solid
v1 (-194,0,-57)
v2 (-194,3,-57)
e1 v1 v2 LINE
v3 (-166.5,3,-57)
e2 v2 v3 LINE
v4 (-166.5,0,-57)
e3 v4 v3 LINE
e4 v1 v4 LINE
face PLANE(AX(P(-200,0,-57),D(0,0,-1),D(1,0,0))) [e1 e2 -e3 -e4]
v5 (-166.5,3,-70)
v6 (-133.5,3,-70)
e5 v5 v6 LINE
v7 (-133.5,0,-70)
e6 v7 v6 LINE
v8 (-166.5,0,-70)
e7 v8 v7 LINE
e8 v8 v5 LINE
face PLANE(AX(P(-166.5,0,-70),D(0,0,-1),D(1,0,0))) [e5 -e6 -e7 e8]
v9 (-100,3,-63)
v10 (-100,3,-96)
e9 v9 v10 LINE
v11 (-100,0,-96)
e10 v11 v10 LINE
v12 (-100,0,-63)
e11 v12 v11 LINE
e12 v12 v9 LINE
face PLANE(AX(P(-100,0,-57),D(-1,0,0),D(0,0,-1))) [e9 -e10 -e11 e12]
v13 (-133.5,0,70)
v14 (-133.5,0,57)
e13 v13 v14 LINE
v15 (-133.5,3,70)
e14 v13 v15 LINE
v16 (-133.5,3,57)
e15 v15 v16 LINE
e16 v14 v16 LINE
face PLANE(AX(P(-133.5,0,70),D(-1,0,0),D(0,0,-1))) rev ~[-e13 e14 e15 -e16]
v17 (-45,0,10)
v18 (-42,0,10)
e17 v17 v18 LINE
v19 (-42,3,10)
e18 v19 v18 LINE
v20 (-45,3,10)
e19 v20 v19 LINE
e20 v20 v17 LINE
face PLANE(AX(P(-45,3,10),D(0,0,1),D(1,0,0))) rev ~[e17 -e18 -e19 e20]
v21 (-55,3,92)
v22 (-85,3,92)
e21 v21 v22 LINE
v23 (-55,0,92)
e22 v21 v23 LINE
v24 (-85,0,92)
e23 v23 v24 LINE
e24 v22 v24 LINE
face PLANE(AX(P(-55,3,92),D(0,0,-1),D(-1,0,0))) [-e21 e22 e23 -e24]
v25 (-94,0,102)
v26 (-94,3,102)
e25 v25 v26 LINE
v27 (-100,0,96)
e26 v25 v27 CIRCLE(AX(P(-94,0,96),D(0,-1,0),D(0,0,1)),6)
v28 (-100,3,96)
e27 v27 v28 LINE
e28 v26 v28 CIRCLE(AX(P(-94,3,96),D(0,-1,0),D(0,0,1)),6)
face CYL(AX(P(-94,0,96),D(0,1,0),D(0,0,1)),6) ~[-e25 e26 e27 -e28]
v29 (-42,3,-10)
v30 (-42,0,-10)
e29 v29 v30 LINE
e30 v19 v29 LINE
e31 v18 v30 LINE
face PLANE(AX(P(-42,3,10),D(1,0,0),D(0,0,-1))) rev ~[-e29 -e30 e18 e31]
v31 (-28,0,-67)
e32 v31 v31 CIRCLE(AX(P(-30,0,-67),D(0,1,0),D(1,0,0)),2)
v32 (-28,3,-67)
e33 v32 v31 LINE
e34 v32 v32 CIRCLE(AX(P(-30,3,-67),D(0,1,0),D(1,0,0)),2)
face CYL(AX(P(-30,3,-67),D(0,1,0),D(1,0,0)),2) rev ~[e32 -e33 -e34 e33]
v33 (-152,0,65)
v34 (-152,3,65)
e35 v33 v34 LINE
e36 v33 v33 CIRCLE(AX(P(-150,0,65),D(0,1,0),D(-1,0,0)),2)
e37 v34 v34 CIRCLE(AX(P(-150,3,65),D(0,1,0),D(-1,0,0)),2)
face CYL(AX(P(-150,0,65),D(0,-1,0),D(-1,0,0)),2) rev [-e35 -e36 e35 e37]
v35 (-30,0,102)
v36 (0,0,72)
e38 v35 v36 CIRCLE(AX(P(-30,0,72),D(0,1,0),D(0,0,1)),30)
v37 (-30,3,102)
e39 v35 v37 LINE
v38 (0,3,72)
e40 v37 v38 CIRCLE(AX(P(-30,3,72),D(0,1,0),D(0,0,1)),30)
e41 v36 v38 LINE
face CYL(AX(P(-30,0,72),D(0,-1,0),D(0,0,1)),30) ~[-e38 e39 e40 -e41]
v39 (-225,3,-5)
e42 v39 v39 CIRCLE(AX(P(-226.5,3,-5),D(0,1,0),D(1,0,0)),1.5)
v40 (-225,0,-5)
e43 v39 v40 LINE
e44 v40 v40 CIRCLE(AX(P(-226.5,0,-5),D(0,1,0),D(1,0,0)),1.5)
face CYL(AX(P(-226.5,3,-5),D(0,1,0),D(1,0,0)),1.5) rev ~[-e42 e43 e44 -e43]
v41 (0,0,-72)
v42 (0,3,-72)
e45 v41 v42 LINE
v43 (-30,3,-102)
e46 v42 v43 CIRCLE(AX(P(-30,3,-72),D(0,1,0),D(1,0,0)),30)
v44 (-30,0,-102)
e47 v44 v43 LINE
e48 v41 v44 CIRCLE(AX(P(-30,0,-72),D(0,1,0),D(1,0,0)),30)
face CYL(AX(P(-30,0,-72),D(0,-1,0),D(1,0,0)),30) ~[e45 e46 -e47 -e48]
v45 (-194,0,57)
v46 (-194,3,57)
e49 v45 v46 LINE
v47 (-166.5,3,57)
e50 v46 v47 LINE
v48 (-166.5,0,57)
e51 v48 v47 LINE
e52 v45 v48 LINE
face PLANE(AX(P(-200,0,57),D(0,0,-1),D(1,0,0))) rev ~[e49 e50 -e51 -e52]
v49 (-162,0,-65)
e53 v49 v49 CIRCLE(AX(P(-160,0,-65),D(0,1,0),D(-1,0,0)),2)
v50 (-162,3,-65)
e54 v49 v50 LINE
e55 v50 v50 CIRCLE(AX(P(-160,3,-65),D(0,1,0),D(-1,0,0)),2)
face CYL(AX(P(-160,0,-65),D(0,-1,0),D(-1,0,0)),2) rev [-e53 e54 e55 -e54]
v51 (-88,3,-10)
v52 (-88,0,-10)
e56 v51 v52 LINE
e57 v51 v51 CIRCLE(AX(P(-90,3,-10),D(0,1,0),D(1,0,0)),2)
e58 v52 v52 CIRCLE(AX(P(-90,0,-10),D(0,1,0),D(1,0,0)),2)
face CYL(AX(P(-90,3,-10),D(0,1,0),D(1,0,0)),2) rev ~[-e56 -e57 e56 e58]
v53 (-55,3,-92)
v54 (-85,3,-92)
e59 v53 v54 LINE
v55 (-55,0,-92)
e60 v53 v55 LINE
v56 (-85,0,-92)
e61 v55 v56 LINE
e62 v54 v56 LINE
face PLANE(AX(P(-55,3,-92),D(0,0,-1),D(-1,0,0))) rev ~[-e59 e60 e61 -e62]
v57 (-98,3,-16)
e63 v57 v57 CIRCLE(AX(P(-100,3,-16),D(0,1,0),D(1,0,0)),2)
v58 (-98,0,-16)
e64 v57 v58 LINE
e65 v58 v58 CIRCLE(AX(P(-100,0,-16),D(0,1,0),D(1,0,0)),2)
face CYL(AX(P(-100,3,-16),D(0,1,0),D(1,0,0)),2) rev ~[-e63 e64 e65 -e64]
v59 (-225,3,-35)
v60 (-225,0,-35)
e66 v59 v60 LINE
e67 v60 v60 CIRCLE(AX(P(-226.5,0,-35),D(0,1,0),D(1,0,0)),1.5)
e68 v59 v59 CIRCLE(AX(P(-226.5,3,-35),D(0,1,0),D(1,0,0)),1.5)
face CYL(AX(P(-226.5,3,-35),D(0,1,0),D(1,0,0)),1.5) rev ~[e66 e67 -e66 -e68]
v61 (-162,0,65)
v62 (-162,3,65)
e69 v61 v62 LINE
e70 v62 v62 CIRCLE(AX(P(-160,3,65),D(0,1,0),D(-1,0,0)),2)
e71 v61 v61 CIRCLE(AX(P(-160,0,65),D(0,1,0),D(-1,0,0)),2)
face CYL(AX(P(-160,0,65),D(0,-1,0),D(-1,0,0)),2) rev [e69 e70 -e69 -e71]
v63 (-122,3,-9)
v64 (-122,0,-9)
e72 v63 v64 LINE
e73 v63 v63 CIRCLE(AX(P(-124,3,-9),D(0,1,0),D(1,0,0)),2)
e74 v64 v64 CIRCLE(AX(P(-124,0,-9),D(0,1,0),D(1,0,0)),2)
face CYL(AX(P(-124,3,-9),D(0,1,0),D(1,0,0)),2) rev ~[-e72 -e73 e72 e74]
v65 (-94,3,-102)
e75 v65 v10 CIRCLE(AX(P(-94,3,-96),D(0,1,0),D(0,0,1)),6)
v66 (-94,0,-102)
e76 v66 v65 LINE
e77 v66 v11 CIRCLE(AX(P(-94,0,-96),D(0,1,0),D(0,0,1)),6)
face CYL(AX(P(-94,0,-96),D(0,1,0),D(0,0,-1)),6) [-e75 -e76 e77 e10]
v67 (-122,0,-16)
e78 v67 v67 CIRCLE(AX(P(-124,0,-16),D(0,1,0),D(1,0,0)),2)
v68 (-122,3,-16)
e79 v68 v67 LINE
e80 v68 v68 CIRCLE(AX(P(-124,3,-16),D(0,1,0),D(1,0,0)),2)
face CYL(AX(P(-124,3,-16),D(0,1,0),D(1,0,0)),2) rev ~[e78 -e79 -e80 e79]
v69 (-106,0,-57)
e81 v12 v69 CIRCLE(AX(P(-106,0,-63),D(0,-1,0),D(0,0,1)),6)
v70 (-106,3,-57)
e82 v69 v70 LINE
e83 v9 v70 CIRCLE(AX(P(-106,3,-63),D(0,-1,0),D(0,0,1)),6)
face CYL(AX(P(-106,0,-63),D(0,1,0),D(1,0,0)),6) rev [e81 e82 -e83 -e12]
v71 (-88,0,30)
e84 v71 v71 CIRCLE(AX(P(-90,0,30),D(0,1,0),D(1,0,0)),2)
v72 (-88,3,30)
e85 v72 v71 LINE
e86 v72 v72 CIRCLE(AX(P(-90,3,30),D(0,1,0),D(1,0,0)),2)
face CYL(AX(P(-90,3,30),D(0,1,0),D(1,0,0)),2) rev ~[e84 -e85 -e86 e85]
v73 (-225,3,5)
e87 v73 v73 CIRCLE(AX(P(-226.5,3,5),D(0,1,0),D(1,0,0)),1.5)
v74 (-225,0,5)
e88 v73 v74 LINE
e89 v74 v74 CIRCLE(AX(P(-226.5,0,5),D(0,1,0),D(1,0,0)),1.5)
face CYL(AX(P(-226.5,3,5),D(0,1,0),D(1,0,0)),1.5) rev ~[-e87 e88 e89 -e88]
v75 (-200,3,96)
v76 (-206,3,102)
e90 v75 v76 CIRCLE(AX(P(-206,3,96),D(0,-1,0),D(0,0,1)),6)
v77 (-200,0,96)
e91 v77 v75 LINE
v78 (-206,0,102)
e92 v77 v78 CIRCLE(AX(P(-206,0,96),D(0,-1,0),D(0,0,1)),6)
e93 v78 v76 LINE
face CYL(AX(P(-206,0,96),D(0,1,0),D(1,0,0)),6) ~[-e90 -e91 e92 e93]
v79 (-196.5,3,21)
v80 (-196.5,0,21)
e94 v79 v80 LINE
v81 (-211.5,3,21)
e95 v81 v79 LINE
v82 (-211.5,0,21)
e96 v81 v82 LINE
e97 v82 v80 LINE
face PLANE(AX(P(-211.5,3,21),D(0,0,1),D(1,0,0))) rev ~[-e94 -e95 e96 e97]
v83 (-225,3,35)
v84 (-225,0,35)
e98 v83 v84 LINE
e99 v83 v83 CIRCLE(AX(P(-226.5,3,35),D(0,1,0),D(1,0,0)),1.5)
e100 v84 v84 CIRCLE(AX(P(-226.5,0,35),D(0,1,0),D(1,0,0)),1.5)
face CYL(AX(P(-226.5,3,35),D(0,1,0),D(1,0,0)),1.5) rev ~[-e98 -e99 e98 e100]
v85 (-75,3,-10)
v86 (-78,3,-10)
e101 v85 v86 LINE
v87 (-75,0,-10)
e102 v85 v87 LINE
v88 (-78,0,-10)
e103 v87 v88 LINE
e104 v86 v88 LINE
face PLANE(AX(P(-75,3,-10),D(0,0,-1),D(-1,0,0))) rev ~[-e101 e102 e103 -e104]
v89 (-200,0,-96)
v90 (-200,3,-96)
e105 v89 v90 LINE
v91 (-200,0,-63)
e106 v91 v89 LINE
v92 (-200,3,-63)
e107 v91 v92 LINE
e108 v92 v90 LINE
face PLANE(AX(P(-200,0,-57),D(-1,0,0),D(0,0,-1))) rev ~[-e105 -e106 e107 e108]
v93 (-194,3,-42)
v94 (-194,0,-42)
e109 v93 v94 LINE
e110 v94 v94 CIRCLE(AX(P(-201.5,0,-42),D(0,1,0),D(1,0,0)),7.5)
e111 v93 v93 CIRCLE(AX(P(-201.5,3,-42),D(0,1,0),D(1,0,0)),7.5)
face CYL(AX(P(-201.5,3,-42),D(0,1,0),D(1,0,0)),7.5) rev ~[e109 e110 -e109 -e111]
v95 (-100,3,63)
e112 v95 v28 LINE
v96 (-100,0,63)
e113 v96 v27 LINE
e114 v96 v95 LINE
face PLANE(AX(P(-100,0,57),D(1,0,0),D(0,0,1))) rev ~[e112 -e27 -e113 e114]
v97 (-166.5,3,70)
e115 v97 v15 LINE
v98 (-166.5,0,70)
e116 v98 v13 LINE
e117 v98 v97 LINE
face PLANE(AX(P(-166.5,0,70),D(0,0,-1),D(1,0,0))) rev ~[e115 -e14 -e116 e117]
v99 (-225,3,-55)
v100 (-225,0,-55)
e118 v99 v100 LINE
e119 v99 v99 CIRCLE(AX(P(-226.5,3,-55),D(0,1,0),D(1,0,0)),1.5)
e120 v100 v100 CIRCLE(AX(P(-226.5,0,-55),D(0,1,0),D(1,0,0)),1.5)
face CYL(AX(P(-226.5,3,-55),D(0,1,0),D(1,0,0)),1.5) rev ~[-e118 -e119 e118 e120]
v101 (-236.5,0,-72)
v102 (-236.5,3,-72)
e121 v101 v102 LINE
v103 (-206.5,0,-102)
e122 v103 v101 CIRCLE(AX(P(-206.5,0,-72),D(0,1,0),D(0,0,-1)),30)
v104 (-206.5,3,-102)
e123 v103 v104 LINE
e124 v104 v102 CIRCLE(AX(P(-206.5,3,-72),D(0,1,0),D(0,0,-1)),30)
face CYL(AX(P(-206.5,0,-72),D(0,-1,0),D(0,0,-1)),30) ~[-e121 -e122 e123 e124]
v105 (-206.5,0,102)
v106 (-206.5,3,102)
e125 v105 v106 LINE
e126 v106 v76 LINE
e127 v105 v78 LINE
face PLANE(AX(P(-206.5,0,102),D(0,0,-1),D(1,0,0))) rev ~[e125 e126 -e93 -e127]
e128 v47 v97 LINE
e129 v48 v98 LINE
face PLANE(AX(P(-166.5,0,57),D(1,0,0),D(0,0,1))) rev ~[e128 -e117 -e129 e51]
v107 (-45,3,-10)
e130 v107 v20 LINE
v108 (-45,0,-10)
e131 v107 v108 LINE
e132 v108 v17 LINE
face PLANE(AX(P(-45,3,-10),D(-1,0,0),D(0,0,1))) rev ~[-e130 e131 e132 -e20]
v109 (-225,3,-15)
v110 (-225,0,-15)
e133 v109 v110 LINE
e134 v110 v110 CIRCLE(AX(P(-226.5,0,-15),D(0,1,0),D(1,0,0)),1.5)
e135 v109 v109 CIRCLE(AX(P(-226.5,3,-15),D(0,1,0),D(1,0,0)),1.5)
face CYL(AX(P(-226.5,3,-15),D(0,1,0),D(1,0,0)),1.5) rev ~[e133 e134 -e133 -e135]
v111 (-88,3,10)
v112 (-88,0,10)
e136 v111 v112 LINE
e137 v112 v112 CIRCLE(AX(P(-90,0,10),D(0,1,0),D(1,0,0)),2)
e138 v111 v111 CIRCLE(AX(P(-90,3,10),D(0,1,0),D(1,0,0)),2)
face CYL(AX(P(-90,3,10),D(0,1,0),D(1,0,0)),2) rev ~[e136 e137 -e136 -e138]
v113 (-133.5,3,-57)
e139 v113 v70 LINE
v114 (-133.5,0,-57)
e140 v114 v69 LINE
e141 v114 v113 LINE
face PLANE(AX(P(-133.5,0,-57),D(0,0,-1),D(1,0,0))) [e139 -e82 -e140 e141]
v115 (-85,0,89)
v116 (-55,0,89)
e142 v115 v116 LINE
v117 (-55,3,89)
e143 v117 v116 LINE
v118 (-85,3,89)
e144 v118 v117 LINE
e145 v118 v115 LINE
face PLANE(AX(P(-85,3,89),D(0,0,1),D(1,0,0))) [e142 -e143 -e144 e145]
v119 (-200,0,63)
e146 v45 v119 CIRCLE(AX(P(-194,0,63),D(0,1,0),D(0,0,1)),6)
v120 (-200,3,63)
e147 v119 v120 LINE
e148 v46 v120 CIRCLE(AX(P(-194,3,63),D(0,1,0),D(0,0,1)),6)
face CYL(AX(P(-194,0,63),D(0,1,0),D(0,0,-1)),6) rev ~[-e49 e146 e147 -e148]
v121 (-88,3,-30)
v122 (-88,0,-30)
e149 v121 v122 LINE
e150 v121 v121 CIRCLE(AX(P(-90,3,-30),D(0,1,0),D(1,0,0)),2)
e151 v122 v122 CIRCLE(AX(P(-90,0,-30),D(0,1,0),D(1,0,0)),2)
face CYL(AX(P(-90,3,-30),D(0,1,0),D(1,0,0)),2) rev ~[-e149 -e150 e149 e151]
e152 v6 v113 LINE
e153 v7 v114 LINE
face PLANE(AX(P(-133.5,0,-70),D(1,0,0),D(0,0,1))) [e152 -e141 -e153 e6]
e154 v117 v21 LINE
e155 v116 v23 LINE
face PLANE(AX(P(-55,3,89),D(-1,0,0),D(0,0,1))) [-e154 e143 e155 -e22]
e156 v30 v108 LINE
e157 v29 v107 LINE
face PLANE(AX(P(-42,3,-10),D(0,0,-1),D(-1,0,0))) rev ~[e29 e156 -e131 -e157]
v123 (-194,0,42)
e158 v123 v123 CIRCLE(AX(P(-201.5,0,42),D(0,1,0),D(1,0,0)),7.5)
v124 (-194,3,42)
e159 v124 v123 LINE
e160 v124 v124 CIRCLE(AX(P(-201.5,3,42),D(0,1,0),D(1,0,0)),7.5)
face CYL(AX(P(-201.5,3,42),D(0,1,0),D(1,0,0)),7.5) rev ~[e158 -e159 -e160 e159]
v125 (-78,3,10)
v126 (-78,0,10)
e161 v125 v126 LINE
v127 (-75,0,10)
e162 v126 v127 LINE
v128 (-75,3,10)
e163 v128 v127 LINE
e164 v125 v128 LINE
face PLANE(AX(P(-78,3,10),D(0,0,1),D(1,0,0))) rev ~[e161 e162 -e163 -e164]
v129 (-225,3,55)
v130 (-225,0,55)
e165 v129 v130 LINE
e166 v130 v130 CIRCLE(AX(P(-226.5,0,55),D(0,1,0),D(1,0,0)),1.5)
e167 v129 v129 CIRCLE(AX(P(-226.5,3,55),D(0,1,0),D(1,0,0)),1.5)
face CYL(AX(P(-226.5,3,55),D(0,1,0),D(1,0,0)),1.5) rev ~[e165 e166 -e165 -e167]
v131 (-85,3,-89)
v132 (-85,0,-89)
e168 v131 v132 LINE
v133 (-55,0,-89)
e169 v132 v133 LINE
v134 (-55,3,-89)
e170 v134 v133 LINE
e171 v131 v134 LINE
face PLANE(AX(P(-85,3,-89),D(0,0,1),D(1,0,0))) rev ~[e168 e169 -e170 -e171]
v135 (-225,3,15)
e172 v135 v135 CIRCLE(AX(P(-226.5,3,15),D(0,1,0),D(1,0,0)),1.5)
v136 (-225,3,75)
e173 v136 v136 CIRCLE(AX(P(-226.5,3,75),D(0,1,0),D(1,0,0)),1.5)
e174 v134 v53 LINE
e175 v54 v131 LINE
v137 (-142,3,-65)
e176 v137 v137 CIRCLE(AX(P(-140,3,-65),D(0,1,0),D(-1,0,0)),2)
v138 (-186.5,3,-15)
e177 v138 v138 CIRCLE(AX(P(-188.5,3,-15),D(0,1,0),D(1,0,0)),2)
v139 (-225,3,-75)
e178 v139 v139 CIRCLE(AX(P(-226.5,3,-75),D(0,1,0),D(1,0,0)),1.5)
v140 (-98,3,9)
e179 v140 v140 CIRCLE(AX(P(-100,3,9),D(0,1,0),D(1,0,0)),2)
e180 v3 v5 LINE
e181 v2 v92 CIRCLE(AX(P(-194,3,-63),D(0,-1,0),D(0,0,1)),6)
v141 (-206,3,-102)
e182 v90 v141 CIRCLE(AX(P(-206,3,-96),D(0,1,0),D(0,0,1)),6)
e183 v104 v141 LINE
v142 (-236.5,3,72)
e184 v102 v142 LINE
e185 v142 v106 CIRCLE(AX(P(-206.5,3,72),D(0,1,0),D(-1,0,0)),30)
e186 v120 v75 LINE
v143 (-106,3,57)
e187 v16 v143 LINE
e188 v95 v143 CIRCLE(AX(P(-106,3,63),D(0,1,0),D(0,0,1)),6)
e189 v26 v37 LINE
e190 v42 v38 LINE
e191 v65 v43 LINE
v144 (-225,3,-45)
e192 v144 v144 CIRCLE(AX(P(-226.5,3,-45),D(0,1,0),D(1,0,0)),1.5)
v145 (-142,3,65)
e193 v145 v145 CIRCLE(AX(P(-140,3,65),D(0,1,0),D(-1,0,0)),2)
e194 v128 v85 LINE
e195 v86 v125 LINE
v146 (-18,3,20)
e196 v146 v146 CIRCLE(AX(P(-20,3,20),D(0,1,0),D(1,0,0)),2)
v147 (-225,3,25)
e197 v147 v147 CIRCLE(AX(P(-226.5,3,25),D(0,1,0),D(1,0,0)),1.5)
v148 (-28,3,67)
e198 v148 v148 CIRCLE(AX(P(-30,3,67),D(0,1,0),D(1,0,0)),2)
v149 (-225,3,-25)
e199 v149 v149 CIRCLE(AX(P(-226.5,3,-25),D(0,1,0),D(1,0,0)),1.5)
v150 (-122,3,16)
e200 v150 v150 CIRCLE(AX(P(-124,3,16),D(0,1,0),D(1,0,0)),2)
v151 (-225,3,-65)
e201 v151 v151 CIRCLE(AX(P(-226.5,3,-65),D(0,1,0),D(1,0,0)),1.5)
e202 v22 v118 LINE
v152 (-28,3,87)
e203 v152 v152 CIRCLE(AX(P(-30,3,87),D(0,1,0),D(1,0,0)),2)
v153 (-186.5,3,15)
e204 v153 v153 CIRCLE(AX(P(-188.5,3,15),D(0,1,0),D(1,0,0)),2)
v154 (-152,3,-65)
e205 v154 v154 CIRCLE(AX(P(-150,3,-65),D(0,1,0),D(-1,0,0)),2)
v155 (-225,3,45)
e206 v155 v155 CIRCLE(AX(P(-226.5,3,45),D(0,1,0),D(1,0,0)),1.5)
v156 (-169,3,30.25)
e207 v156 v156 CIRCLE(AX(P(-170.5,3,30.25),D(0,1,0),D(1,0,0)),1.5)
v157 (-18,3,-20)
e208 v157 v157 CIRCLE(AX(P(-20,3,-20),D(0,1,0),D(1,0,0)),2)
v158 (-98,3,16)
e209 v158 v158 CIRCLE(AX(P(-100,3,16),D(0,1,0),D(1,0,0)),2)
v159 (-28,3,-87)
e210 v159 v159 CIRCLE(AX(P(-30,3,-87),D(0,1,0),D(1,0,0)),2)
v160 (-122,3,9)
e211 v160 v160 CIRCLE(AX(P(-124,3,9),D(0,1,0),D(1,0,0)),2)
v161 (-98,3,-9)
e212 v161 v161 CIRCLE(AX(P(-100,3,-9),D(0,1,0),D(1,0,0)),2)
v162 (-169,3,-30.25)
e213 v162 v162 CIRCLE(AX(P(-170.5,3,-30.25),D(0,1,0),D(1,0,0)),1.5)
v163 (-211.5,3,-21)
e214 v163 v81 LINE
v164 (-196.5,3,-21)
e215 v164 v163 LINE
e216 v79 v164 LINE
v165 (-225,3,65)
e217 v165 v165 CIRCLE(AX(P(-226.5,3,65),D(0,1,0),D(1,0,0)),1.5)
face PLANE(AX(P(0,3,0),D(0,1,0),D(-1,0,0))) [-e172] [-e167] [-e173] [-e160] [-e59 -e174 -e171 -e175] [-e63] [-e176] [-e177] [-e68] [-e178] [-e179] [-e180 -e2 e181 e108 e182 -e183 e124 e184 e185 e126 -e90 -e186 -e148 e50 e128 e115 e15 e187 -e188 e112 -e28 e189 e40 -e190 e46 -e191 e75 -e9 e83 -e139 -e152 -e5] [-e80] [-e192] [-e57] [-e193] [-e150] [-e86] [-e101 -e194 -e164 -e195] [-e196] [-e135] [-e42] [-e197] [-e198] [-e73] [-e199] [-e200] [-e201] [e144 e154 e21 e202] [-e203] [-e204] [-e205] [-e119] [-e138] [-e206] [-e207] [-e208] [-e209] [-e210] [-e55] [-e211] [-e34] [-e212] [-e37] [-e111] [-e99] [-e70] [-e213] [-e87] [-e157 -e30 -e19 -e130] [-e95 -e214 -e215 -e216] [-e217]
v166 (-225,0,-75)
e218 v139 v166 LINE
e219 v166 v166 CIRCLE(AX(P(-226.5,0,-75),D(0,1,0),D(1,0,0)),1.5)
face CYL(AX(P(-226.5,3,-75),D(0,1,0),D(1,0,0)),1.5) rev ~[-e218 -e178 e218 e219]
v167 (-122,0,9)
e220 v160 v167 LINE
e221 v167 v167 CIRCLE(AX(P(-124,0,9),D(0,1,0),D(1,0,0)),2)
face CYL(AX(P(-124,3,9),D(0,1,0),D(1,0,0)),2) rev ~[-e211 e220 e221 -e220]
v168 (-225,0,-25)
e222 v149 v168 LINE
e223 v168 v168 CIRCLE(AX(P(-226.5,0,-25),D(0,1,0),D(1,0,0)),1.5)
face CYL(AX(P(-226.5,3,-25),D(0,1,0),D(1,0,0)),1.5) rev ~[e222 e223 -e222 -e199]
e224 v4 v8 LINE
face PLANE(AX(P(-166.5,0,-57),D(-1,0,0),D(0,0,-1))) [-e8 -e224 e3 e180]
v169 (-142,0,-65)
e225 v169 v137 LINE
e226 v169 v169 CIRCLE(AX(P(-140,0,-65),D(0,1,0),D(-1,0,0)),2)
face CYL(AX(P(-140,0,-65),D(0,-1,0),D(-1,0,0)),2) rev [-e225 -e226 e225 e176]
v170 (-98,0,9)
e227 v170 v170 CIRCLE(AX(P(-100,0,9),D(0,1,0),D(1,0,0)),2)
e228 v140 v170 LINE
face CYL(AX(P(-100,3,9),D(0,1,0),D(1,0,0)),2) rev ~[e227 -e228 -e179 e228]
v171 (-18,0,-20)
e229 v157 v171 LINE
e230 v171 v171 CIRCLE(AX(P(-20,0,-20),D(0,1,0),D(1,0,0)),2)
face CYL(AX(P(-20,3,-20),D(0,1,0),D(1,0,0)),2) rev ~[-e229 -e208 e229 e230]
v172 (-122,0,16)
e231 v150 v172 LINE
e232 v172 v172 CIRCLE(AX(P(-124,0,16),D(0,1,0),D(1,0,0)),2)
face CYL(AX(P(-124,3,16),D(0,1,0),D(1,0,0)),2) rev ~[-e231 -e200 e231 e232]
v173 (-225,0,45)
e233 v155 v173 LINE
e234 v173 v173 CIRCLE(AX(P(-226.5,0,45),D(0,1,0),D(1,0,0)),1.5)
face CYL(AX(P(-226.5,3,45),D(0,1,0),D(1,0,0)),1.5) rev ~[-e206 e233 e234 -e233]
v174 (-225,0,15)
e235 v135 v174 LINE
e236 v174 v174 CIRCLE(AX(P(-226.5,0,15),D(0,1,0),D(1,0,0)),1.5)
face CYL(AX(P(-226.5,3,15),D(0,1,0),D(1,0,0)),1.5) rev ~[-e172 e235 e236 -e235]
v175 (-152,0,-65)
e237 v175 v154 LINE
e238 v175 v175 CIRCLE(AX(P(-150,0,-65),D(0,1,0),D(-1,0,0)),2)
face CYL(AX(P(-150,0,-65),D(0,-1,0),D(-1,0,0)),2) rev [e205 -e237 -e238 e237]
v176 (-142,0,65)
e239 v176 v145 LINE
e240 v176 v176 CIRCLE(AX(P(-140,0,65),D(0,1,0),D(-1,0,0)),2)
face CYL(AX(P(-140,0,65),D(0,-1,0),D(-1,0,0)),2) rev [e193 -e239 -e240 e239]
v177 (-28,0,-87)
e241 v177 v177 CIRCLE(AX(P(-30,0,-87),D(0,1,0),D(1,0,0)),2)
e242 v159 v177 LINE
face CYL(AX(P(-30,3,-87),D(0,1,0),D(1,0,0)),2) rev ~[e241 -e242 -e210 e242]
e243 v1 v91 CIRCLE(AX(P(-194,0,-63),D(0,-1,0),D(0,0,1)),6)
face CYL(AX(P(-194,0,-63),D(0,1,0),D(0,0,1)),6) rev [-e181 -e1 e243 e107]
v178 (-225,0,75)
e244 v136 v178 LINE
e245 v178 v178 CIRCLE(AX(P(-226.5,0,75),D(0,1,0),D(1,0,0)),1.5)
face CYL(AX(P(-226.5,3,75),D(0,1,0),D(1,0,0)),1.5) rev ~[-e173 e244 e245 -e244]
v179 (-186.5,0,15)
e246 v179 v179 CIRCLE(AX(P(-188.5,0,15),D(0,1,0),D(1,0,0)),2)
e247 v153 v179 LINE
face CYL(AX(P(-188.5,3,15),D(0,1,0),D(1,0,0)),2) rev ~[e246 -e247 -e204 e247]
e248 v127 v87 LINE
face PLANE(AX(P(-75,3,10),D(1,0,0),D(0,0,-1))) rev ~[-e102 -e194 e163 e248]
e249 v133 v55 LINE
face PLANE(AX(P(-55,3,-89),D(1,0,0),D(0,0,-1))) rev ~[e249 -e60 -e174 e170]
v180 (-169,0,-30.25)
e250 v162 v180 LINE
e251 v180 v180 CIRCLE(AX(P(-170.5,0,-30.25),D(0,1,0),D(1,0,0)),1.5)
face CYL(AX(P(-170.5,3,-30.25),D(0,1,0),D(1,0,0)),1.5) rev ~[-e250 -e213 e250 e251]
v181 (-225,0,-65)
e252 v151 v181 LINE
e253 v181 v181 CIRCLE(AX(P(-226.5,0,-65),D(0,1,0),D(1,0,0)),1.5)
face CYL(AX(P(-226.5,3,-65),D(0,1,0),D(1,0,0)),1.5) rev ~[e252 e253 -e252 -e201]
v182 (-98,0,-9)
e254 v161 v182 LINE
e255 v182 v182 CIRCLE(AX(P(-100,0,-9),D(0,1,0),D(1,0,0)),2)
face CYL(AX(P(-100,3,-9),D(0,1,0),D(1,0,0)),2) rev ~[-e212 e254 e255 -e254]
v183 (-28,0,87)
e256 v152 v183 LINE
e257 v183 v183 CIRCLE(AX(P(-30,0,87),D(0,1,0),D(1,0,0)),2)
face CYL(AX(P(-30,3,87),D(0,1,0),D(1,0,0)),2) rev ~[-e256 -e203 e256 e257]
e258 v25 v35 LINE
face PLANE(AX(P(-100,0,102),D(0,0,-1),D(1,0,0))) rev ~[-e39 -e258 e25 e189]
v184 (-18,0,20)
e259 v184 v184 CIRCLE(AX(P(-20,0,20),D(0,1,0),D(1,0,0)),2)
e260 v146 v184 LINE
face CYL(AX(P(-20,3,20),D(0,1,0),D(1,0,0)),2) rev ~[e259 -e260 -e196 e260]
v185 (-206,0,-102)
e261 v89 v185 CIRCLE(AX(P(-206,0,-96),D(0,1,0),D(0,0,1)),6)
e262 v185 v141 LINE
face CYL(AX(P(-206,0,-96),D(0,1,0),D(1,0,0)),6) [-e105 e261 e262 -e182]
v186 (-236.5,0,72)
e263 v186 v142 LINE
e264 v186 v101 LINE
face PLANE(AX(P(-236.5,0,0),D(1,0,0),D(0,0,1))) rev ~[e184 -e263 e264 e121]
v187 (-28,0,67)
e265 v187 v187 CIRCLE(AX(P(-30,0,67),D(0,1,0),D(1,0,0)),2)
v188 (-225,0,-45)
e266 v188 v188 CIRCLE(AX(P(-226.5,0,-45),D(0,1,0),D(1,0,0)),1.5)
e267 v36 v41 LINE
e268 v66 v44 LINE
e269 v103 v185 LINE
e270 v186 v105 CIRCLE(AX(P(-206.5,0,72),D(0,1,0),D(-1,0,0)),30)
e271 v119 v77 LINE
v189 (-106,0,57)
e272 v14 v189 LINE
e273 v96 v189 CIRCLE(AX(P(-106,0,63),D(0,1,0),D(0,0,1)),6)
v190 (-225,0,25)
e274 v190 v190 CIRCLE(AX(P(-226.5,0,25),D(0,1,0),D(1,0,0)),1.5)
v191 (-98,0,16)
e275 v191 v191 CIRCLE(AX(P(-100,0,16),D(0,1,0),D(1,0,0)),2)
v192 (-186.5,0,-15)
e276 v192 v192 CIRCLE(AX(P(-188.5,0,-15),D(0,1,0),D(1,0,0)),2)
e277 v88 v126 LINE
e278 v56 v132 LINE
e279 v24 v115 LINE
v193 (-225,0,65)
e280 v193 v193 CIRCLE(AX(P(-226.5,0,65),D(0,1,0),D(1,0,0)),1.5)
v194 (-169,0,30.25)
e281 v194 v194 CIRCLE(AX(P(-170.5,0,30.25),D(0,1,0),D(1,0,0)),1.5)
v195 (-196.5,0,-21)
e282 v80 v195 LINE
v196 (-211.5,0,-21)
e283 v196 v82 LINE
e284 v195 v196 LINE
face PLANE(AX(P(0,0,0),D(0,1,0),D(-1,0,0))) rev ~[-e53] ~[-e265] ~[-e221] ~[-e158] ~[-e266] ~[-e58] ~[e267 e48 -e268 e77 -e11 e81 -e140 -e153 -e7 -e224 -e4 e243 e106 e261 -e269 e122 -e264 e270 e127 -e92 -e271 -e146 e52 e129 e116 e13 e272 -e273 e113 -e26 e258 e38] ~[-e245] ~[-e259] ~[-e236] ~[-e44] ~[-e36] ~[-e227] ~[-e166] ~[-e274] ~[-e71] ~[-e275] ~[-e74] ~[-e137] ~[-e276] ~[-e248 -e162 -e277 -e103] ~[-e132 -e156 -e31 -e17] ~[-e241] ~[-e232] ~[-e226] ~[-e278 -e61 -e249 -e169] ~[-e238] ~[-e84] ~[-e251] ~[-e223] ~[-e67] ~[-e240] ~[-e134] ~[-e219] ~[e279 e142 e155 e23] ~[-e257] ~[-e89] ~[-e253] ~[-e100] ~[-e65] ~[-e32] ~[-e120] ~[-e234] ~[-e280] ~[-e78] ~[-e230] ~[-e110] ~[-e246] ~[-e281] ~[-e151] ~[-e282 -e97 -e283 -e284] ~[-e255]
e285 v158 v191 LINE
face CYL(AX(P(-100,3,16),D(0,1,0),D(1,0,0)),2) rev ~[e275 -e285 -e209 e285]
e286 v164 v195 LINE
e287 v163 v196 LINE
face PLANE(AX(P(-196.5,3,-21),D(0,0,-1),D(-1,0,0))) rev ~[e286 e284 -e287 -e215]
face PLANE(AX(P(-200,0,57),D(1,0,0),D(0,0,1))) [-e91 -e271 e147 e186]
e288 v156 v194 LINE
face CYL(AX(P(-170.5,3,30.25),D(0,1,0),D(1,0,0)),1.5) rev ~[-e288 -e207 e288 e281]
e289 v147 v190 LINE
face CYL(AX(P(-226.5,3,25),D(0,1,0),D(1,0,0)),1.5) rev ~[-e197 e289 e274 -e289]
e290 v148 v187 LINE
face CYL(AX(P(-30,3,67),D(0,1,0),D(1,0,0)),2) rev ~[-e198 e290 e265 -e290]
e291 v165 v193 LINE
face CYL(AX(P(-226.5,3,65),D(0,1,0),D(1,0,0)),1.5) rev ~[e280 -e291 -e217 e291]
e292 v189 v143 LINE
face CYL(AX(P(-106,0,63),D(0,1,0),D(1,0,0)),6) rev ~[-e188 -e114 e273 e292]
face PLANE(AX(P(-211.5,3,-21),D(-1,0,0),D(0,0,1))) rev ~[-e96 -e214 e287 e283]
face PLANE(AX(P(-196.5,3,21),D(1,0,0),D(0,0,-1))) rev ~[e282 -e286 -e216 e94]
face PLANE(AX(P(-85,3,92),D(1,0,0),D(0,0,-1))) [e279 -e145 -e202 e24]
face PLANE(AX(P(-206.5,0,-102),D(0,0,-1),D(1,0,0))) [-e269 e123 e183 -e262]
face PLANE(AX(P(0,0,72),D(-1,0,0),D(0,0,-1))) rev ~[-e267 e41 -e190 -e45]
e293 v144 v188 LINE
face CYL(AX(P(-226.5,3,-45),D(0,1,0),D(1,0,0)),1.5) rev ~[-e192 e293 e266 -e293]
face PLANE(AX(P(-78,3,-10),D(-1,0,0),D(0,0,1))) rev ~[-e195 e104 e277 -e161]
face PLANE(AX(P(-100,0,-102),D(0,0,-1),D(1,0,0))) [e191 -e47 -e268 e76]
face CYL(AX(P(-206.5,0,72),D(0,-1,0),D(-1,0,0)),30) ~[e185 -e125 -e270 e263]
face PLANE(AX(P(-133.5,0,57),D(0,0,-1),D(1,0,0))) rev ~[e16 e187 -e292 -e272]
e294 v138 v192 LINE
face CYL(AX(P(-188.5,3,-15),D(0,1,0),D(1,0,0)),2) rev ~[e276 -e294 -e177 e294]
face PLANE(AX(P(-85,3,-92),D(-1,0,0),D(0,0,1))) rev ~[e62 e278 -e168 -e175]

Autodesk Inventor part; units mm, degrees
ref_plane "YZ Plane" through (0, 0, 0) normal (1, 0, 0) x (0, 1, 0)
ref_plane "XZ Plane" through (0, 0, 0) normal (0, 1, 0) x (-1, 0, 0)
ref_plane "XY Plane" through (0, 0, 0) normal (0, 0, 1) x (1, 0, 0)
sketch "Эскиз1" plane through (0, 0, 0) normal (0, 1, 0) x (-1, 0, 0)
  line L0 (0, 0) -> (93.3924, 0) construction
  line L1 (0, 72) -> (0, 0)
  line L2 (236.5, 0) -> (236.5, 72)
  line L3 (166.5, 57) -> (166.5, 70)
  line L4 (166.5, 70) -> (133.5, 70)
  line L5 (133.5, 70) -> (133.5, 57)
  line L6 (200, 57) -> (166.5, 57)
  line L7 (133.5, 57) -> (100, 57)
  line L8 (170.1825, 65) -> (127.9093, 65) construction
  circle A0 centre (150, 65) radius 2
  circle A1 centre (160, 65) radius 2
  circle A2 centre (140, 65) radius 2
  line L9 (150, 70) -> (150, 80.9563) construction
  line L10 (200, 57) -> (200, 102)
  line L11 (206.5, 102) -> (200, 102)
  line L12 (100, 57) -> (100, 102)
  line L13 (100, 102) -> (30, 102)
  arc A3 (236.5, 72) -> (206.5, 102) centre (206.5, 72) ccw
  arc A4 (30, 102) -> (0, 72) centre (30, 72) ccw
  line L14 (0, -72) -> (0, 0)
  line L15 (236.5, 0) -> (236.5, -72)
  line L16 (166.5, -70) -> (133.5, -70)
  line L17 (133.5, -70) -> (133.5, -57)
  line L18 (200, -57) -> (166.5, -57)
  line L19 (133.5, -57) -> (100, -57)
  line L20 (170.1825, -65) -> (127.9093, -65) construction
  circle A5 centre (150, -65) radius 2
  circle A6 centre (140, -65) radius 2
  line L21 (150, -70) -> (150, -80.9563) construction
  line L22 (200, -57) -> (200, -102)
  line L23 (206.5, -102) -> (200, -102)
  line L24 (100, -57) -> (100, -102)
  line L25 (100, -102) -> (30, -102)
  arc A7 (206.5, -102) -> (236.5, -72) centre (206.5, -72) ccw
  arc A8 (0, -72) -> (30, -102) centre (30, -72) ccw
  line L26 (166.5, -57) -> (166.5, -70)
  circle A9 centre (160, -65) radius 2
  dimension "d0" = 13
  dimension "d1" = 33
  dimension "d2" = 5
  dimension "d3" = 4
  dimension "d4" = 4
  dimension "d5" = 4
  dimension "d6" = 10
  dimension "d7" = 10
  dimension "d8" = 70
  dimension "d9" = 50
  dimension "d11" = 50
  dimension "d12" = 45
  dimension "d13" = 100
  dimension "d14" = 65
  dimension "d15" = 30
extrude "Выдавливание1" add sketch "Эскиз1" along normal blind 3
sketch "Эскиз2" plane through (0, 3, 0) normal (0, 1, 0) x (1, 0, 0)
  line L0 (-20, -13.2915) -> (-20, 12.9921) construction
  circle A0 centre (-20, -20) radius 2
  circle A1 centre (-20, 20) radius 2
  point P0 (0, 0)
  dimension "d18" = 4
  dimension "d19" = 20
  dimension "d20" = 40
  dimension "d21" = 20
extrude "Выдавливание2" cut sketch "Эскиз2" against normal blind 4
sketch "Эскиз3" plane through (0, 3, 0) normal (0, 1, 0) x (1, 0, 0)
  line L0 (-211.5, -21) -> (-196.5, -21)
  line L1 (-196.5, -21) -> (-196.5, 21)
  line L2 (-196.5, 21) -> (-211.5, 21)
  line L3 (-211.5, 21) -> (-211.5, -21)
  line L4 (-236.5, 72) -> (-236.5, -72) projected
  line L5 (-188.5, -21.5288) -> (-188.5, 22.9768) construction
  circle A0 centre (-188.5, -15) radius 2
  circle A1 centre (-188.5, 15) radius 2
  point P0 (0, 0)
  dimension "d24" = 42
  dimension "d25" = 15
  dimension "d26" = 40
  dimension "d27" = 21
  dimension "d28" = 4
  dimension "d29" = 4
  dimension "d31" = 6
  dimension "d32" = 8
  dimension "d33" = 30
extrude "Выдавливание3" cut sketch "Эскиз3" against normal blind 4
sketch "Эскиз5" plane through (0, 3, 0) normal (0, 1, 0) x (1, 0, 0)
  line L0 (-134.2143, -16) -> (-95.4487, -16) construction
  circle A0 centre (-100, -16) radius 2
  line L1 (-100, -57) -> (-100, -102) projected
  line L2 (-100, -102) -> (-30, -102) projected
  line L3 (-236.5, -72) -> (-236.5, 72) projected
  line L4 (-236.5, 0) -> (-246.7698, 0) construction
  line L5 (-226.5, -8.1668) -> (-226.5, -72) construction
  circle A1 centre (-226.5, -5) radius 1.5
  circle A2 centre (-226.5, -15) radius 1.5
  circle A3 centre (-226.5, -25) radius 1.5
  circle A4 centre (-226.5, -35) radius 1.5
  circle A5 centre (-226.5, -45) radius 1.5
  circle A6 centre (-226.5, -55) radius 1.5
  circle A7 centre (-226.5, -65) radius 1.5
  circle A8 centre (-226.5, -75) radius 1.5
  circle A9 centre (-226.5, 5) radius 1.5
  circle A10 centre (-226.5, -5) radius 1.5
  circle A11 centre (-226.5, -15) radius 1.5
  circle A12 centre (-226.5, -25) radius 1.5
  circle A13 centre (-226.5, -35) radius 1.5
  circle A14 centre (-226.5, -45) radius 1.5
  circle A15 centre (-226.5, -55) radius 1.5
  circle A16 centre (-226.5, -65) radius 1.5
  circle A17 centre (-226.5, 15) radius 1.5
  circle A18 centre (-226.5, 5) radius 1.5
  circle A19 centre (-226.5, -5) radius 1.5
  circle A20 centre (-226.5, -15) radius 1.5
  circle A21 centre (-226.5, -25) radius 1.5
  circle A22 centre (-226.5, -35) radius 1.5
  circle A23 centre (-226.5, -45) radius 1.5
  circle A24 centre (-226.5, -55) radius 1.5
  circle A25 centre (-226.5, 25) radius 1.5
  circle A26 centre (-226.5, 15) radius 1.5
  circle A27 centre (-226.5, 5) radius 1.5
  circle A28 centre (-226.5, -5) radius 1.5
  circle A29 centre (-226.5, -15) radius 1.5
  circle A30 centre (-226.5, -25) radius 1.5
  circle A31 centre (-226.5, -35) radius 1.5
  circle A32 centre (-226.5, -45) radius 1.5
  circle A33 centre (-226.5, 35) radius 1.5
  circle A34 centre (-226.5, 25) radius 1.5
  circle A35 centre (-226.5, 15) radius 1.5
  circle A36 centre (-226.5, 5) radius 1.5
  circle A37 centre (-226.5, -5) radius 1.5
  circle A38 centre (-226.5, -15) radius 1.5
  circle A39 centre (-226.5, -25) radius 1.5
  circle A40 centre (-226.5, -35) radius 1.5
  circle A41 centre (-226.5, 45) radius 1.5
  circle A42 centre (-226.5, 35) radius 1.5
  circle A43 centre (-226.5, 25) radius 1.5
  circle A44 centre (-226.5, 15) radius 1.5
  circle A45 centre (-226.5, 5) radius 1.5
  circle A46 centre (-226.5, -5) radius 1.5
  circle A47 centre (-226.5, -15) radius 1.5
  circle A48 centre (-226.5, -25) radius 1.5
  circle A49 centre (-226.5, 55) radius 1.5
  circle A50 centre (-226.5, 45) radius 1.5
  circle A51 centre (-226.5, 35) radius 1.5
  circle A52 centre (-226.5, 25) radius 1.5
  circle A53 centre (-226.5, 15) radius 1.5
  circle A54 centre (-226.5, 5) radius 1.5
  circle A55 centre (-226.5, -5) radius 1.5
  circle A56 centre (-226.5, -15) radius 1.5
  circle A57 centre (-226.5, 65) radius 1.5
  circle A58 centre (-226.5, 55) radius 1.5
  circle A59 centre (-226.5, 45) radius 1.5
  circle A60 centre (-226.5, 35) radius 1.5
  circle A61 centre (-226.5, 25) radius 1.5
  circle A62 centre (-226.5, 15) radius 1.5
  circle A63 centre (-226.5, 5) radius 1.5
  circle A64 centre (-226.5, -5) radius 1.5
  circle A65 centre (-226.5, 75) radius 1.5
  circle A66 centre (-226.5, 65) radius 1.5
  circle A67 centre (-226.5, 55) radius 1.5
  circle A68 centre (-226.5, 45) radius 1.5
  circle A69 centre (-226.5, 35) radius 1.5
  circle A70 centre (-226.5, 25) radius 1.5
  circle A71 centre (-226.5, 15) radius 1.5
  circle A72 centre (-226.5, 5) radius 1.5
  line L6 (-78, -10) -> (-75, -10)
  line L7 (-75, -10) -> (-75, 10)
  line L8 (-75, 10) -> (-78, 10)
  line L9 (-78, 10) -> (-78, -10)
  line L10 (-133.5, -70) -> (-133.5, -57) projected
  line L11 (-45, -10) -> (-42, -10)
  line L12 (-42, -10) -> (-42, 10)
  line L13 (-42, 10) -> (-45, 10)
  line L14 (-45, 10) -> (-45, -10)
  line L15 (-100, -16) -> (-100, 38.9096) construction
  circle A73 centre (-100, 16) radius 2
  circle A74 centre (-100, 9) radius 2
  circle A75 centre (-100, -9) radius 2
  circle A76 centre (-124, -16) radius 2
  circle A77 centre (-124, -9) radius 2
  circle A78 centre (-124, 9) radius 2
  circle A79 centre (-124, 16) radius 2
  line L16 (-100, 16) -> (-119.6213, 16) construction
  line L17 (-170.5, 43.1181) -> (-170.5, -35.1229) construction
  circle A80 centre (-170.5, 30.25) radius 1.5
  circle A81 centre (-170.5, -30.25) radius 1.5
  point P0 (0, 0)
  dimension "d38" = 4
  dimension "d52" = 3
  dimension "d53" = 10
  dimension "d54" = 5
  dimension "d57" = 10
  dimension "d60" = 10
  dimension "d63" = 20
  dimension "d64" = 3
  dimension "d65" = 10
  dimension "d68" = 33
  dimension "d105" = 32
  dimension "d106" = 25
  dimension "d114" = 25
  dimension "d117" = 24
  dimension "d122" = 42
  dimension "d123" = 22
  dimension "d124" = 16
  dimension "d126" = 3
  dimension "d127" = 3
  dimension "d128" = 60.5
  dimension "d129" = 30.25
  dimension "d130" = 66
extrude "Выдавливание5" cut sketch "Эскиз5" against normal blind 4
sketch "Эскиз6" plane through (0, 3, 0) normal (0, 1, 0) x (1, 0, 0)
  line L0 (-201.5, -38.8438) -> (-201.5, 45.9723) construction
  circle A0 centre (-201.5, -42) radius 7.5
  circle A1 centre (-201.5, 42) radius 7.5
  line L1 (-200, -57) -> (-166.5, -57) projected
  line L2 (-166.5, 57) -> (-200, 57) projected
  line L3 (-236.5, -72) -> (-236.5, 72) projected
  point P0 (0, 0)
  dimension "d75" = 15
  dimension "d76" = 15
  dimension "d77" = 15
  dimension "d78" = 15
  dimension "d79" = 35
extrude "Выдавливание6" cut sketch "Эскиз6" against normal blind 10
sketch "Эскиз7" plane through (0, 3, 0) normal (0, 1, 0) x (1, 0, 0)
  line L0 (-90, -53.2705) -> (-90, -1.5372) construction
  circle A0 centre (-90, -30) radius 2
  line L1 (-90, -33.2705) -> (-90, 18.4628) construction
  circle A1 centre (-90, -10) radius 2
  line L2 (-90, -13.2705) -> (-90, 38.4628) construction
  circle A2 centre (-90, 10) radius 2
  line L3 (-90, 6.7295) -> (-90, 58.4628) construction
  circle A3 centre (-90, 30) radius 2
  point P0 (0, 0)
  dimension "d82" = 4
  dimension "d83" = 30
  dimension "d84" = 90
  dimension "d87" = 20
extrude "Выдавливание7" cut sketch "Эскиз7" against normal blind 10
sketch "Эскиз8" plane through (0, 3, 0) normal (0, 1, 0) x (1, 0, 0)
  line L0 (-85, 89) -> (-55, 89)
  line L1 (-55, 89) -> (-55, 92)
  line L2 (-55, 92) -> (-85, 92)
  line L3 (-85, 92) -> (-85, 89)
  line L4 (-30, 102) -> (-100, 102) projected
  line L5 (-100, 102) -> (-100, 57) projected
  line L6 (-30, 60.9127) -> (-30, 96.4392) construction
  circle A0 centre (-30, 67) radius 2
  circle A1 centre (-30, 87) radius 2
  line L7 (0, -72) -> (0, 72) projected
  line L8 (0, 0) -> (41.7371, 0) construction
  line L9 (-85, -89) -> (-55, -89)
  line L10 (-55, -89) -> (-55, -92)
  line L11 (-55, -92) -> (-85, -92)
  line L12 (-85, -92) -> (-85, -89)
  line L13 (-100, -102) -> (-100, -57)
  line L14 (-30, -60.9127) -> (-30, -96.4392) construction
  circle A2 centre (-30, -67) radius 2
  circle A3 centre (-30, -87) radius 2
  dimension "d94" = 3
  dimension "d95" = 10
  dimension "d96" = 15
  dimension "d97" = 30
  dimension "d98" = 4
  dimension "d99" = 4
  dimension "d100" = 30
  dimension "d101" = 15
  dimension "d102" = 20
extrude "Выдавливание8" cut sketch "Эскиз8" against normal blind 10
fillet "Сопряжение1" radius 6 8 edges at (-200, 1.5, 57) (-100, 1.5, 57) (-100, 1.5, -57) (-200, 1.5, -57) (-100, 1.5, 102) (-200, 1.5, 102) (-100, 1.5, -102) (-200, 1.5, -102)
properties part number "КВ33.035.002 - Платформа 3мм"
